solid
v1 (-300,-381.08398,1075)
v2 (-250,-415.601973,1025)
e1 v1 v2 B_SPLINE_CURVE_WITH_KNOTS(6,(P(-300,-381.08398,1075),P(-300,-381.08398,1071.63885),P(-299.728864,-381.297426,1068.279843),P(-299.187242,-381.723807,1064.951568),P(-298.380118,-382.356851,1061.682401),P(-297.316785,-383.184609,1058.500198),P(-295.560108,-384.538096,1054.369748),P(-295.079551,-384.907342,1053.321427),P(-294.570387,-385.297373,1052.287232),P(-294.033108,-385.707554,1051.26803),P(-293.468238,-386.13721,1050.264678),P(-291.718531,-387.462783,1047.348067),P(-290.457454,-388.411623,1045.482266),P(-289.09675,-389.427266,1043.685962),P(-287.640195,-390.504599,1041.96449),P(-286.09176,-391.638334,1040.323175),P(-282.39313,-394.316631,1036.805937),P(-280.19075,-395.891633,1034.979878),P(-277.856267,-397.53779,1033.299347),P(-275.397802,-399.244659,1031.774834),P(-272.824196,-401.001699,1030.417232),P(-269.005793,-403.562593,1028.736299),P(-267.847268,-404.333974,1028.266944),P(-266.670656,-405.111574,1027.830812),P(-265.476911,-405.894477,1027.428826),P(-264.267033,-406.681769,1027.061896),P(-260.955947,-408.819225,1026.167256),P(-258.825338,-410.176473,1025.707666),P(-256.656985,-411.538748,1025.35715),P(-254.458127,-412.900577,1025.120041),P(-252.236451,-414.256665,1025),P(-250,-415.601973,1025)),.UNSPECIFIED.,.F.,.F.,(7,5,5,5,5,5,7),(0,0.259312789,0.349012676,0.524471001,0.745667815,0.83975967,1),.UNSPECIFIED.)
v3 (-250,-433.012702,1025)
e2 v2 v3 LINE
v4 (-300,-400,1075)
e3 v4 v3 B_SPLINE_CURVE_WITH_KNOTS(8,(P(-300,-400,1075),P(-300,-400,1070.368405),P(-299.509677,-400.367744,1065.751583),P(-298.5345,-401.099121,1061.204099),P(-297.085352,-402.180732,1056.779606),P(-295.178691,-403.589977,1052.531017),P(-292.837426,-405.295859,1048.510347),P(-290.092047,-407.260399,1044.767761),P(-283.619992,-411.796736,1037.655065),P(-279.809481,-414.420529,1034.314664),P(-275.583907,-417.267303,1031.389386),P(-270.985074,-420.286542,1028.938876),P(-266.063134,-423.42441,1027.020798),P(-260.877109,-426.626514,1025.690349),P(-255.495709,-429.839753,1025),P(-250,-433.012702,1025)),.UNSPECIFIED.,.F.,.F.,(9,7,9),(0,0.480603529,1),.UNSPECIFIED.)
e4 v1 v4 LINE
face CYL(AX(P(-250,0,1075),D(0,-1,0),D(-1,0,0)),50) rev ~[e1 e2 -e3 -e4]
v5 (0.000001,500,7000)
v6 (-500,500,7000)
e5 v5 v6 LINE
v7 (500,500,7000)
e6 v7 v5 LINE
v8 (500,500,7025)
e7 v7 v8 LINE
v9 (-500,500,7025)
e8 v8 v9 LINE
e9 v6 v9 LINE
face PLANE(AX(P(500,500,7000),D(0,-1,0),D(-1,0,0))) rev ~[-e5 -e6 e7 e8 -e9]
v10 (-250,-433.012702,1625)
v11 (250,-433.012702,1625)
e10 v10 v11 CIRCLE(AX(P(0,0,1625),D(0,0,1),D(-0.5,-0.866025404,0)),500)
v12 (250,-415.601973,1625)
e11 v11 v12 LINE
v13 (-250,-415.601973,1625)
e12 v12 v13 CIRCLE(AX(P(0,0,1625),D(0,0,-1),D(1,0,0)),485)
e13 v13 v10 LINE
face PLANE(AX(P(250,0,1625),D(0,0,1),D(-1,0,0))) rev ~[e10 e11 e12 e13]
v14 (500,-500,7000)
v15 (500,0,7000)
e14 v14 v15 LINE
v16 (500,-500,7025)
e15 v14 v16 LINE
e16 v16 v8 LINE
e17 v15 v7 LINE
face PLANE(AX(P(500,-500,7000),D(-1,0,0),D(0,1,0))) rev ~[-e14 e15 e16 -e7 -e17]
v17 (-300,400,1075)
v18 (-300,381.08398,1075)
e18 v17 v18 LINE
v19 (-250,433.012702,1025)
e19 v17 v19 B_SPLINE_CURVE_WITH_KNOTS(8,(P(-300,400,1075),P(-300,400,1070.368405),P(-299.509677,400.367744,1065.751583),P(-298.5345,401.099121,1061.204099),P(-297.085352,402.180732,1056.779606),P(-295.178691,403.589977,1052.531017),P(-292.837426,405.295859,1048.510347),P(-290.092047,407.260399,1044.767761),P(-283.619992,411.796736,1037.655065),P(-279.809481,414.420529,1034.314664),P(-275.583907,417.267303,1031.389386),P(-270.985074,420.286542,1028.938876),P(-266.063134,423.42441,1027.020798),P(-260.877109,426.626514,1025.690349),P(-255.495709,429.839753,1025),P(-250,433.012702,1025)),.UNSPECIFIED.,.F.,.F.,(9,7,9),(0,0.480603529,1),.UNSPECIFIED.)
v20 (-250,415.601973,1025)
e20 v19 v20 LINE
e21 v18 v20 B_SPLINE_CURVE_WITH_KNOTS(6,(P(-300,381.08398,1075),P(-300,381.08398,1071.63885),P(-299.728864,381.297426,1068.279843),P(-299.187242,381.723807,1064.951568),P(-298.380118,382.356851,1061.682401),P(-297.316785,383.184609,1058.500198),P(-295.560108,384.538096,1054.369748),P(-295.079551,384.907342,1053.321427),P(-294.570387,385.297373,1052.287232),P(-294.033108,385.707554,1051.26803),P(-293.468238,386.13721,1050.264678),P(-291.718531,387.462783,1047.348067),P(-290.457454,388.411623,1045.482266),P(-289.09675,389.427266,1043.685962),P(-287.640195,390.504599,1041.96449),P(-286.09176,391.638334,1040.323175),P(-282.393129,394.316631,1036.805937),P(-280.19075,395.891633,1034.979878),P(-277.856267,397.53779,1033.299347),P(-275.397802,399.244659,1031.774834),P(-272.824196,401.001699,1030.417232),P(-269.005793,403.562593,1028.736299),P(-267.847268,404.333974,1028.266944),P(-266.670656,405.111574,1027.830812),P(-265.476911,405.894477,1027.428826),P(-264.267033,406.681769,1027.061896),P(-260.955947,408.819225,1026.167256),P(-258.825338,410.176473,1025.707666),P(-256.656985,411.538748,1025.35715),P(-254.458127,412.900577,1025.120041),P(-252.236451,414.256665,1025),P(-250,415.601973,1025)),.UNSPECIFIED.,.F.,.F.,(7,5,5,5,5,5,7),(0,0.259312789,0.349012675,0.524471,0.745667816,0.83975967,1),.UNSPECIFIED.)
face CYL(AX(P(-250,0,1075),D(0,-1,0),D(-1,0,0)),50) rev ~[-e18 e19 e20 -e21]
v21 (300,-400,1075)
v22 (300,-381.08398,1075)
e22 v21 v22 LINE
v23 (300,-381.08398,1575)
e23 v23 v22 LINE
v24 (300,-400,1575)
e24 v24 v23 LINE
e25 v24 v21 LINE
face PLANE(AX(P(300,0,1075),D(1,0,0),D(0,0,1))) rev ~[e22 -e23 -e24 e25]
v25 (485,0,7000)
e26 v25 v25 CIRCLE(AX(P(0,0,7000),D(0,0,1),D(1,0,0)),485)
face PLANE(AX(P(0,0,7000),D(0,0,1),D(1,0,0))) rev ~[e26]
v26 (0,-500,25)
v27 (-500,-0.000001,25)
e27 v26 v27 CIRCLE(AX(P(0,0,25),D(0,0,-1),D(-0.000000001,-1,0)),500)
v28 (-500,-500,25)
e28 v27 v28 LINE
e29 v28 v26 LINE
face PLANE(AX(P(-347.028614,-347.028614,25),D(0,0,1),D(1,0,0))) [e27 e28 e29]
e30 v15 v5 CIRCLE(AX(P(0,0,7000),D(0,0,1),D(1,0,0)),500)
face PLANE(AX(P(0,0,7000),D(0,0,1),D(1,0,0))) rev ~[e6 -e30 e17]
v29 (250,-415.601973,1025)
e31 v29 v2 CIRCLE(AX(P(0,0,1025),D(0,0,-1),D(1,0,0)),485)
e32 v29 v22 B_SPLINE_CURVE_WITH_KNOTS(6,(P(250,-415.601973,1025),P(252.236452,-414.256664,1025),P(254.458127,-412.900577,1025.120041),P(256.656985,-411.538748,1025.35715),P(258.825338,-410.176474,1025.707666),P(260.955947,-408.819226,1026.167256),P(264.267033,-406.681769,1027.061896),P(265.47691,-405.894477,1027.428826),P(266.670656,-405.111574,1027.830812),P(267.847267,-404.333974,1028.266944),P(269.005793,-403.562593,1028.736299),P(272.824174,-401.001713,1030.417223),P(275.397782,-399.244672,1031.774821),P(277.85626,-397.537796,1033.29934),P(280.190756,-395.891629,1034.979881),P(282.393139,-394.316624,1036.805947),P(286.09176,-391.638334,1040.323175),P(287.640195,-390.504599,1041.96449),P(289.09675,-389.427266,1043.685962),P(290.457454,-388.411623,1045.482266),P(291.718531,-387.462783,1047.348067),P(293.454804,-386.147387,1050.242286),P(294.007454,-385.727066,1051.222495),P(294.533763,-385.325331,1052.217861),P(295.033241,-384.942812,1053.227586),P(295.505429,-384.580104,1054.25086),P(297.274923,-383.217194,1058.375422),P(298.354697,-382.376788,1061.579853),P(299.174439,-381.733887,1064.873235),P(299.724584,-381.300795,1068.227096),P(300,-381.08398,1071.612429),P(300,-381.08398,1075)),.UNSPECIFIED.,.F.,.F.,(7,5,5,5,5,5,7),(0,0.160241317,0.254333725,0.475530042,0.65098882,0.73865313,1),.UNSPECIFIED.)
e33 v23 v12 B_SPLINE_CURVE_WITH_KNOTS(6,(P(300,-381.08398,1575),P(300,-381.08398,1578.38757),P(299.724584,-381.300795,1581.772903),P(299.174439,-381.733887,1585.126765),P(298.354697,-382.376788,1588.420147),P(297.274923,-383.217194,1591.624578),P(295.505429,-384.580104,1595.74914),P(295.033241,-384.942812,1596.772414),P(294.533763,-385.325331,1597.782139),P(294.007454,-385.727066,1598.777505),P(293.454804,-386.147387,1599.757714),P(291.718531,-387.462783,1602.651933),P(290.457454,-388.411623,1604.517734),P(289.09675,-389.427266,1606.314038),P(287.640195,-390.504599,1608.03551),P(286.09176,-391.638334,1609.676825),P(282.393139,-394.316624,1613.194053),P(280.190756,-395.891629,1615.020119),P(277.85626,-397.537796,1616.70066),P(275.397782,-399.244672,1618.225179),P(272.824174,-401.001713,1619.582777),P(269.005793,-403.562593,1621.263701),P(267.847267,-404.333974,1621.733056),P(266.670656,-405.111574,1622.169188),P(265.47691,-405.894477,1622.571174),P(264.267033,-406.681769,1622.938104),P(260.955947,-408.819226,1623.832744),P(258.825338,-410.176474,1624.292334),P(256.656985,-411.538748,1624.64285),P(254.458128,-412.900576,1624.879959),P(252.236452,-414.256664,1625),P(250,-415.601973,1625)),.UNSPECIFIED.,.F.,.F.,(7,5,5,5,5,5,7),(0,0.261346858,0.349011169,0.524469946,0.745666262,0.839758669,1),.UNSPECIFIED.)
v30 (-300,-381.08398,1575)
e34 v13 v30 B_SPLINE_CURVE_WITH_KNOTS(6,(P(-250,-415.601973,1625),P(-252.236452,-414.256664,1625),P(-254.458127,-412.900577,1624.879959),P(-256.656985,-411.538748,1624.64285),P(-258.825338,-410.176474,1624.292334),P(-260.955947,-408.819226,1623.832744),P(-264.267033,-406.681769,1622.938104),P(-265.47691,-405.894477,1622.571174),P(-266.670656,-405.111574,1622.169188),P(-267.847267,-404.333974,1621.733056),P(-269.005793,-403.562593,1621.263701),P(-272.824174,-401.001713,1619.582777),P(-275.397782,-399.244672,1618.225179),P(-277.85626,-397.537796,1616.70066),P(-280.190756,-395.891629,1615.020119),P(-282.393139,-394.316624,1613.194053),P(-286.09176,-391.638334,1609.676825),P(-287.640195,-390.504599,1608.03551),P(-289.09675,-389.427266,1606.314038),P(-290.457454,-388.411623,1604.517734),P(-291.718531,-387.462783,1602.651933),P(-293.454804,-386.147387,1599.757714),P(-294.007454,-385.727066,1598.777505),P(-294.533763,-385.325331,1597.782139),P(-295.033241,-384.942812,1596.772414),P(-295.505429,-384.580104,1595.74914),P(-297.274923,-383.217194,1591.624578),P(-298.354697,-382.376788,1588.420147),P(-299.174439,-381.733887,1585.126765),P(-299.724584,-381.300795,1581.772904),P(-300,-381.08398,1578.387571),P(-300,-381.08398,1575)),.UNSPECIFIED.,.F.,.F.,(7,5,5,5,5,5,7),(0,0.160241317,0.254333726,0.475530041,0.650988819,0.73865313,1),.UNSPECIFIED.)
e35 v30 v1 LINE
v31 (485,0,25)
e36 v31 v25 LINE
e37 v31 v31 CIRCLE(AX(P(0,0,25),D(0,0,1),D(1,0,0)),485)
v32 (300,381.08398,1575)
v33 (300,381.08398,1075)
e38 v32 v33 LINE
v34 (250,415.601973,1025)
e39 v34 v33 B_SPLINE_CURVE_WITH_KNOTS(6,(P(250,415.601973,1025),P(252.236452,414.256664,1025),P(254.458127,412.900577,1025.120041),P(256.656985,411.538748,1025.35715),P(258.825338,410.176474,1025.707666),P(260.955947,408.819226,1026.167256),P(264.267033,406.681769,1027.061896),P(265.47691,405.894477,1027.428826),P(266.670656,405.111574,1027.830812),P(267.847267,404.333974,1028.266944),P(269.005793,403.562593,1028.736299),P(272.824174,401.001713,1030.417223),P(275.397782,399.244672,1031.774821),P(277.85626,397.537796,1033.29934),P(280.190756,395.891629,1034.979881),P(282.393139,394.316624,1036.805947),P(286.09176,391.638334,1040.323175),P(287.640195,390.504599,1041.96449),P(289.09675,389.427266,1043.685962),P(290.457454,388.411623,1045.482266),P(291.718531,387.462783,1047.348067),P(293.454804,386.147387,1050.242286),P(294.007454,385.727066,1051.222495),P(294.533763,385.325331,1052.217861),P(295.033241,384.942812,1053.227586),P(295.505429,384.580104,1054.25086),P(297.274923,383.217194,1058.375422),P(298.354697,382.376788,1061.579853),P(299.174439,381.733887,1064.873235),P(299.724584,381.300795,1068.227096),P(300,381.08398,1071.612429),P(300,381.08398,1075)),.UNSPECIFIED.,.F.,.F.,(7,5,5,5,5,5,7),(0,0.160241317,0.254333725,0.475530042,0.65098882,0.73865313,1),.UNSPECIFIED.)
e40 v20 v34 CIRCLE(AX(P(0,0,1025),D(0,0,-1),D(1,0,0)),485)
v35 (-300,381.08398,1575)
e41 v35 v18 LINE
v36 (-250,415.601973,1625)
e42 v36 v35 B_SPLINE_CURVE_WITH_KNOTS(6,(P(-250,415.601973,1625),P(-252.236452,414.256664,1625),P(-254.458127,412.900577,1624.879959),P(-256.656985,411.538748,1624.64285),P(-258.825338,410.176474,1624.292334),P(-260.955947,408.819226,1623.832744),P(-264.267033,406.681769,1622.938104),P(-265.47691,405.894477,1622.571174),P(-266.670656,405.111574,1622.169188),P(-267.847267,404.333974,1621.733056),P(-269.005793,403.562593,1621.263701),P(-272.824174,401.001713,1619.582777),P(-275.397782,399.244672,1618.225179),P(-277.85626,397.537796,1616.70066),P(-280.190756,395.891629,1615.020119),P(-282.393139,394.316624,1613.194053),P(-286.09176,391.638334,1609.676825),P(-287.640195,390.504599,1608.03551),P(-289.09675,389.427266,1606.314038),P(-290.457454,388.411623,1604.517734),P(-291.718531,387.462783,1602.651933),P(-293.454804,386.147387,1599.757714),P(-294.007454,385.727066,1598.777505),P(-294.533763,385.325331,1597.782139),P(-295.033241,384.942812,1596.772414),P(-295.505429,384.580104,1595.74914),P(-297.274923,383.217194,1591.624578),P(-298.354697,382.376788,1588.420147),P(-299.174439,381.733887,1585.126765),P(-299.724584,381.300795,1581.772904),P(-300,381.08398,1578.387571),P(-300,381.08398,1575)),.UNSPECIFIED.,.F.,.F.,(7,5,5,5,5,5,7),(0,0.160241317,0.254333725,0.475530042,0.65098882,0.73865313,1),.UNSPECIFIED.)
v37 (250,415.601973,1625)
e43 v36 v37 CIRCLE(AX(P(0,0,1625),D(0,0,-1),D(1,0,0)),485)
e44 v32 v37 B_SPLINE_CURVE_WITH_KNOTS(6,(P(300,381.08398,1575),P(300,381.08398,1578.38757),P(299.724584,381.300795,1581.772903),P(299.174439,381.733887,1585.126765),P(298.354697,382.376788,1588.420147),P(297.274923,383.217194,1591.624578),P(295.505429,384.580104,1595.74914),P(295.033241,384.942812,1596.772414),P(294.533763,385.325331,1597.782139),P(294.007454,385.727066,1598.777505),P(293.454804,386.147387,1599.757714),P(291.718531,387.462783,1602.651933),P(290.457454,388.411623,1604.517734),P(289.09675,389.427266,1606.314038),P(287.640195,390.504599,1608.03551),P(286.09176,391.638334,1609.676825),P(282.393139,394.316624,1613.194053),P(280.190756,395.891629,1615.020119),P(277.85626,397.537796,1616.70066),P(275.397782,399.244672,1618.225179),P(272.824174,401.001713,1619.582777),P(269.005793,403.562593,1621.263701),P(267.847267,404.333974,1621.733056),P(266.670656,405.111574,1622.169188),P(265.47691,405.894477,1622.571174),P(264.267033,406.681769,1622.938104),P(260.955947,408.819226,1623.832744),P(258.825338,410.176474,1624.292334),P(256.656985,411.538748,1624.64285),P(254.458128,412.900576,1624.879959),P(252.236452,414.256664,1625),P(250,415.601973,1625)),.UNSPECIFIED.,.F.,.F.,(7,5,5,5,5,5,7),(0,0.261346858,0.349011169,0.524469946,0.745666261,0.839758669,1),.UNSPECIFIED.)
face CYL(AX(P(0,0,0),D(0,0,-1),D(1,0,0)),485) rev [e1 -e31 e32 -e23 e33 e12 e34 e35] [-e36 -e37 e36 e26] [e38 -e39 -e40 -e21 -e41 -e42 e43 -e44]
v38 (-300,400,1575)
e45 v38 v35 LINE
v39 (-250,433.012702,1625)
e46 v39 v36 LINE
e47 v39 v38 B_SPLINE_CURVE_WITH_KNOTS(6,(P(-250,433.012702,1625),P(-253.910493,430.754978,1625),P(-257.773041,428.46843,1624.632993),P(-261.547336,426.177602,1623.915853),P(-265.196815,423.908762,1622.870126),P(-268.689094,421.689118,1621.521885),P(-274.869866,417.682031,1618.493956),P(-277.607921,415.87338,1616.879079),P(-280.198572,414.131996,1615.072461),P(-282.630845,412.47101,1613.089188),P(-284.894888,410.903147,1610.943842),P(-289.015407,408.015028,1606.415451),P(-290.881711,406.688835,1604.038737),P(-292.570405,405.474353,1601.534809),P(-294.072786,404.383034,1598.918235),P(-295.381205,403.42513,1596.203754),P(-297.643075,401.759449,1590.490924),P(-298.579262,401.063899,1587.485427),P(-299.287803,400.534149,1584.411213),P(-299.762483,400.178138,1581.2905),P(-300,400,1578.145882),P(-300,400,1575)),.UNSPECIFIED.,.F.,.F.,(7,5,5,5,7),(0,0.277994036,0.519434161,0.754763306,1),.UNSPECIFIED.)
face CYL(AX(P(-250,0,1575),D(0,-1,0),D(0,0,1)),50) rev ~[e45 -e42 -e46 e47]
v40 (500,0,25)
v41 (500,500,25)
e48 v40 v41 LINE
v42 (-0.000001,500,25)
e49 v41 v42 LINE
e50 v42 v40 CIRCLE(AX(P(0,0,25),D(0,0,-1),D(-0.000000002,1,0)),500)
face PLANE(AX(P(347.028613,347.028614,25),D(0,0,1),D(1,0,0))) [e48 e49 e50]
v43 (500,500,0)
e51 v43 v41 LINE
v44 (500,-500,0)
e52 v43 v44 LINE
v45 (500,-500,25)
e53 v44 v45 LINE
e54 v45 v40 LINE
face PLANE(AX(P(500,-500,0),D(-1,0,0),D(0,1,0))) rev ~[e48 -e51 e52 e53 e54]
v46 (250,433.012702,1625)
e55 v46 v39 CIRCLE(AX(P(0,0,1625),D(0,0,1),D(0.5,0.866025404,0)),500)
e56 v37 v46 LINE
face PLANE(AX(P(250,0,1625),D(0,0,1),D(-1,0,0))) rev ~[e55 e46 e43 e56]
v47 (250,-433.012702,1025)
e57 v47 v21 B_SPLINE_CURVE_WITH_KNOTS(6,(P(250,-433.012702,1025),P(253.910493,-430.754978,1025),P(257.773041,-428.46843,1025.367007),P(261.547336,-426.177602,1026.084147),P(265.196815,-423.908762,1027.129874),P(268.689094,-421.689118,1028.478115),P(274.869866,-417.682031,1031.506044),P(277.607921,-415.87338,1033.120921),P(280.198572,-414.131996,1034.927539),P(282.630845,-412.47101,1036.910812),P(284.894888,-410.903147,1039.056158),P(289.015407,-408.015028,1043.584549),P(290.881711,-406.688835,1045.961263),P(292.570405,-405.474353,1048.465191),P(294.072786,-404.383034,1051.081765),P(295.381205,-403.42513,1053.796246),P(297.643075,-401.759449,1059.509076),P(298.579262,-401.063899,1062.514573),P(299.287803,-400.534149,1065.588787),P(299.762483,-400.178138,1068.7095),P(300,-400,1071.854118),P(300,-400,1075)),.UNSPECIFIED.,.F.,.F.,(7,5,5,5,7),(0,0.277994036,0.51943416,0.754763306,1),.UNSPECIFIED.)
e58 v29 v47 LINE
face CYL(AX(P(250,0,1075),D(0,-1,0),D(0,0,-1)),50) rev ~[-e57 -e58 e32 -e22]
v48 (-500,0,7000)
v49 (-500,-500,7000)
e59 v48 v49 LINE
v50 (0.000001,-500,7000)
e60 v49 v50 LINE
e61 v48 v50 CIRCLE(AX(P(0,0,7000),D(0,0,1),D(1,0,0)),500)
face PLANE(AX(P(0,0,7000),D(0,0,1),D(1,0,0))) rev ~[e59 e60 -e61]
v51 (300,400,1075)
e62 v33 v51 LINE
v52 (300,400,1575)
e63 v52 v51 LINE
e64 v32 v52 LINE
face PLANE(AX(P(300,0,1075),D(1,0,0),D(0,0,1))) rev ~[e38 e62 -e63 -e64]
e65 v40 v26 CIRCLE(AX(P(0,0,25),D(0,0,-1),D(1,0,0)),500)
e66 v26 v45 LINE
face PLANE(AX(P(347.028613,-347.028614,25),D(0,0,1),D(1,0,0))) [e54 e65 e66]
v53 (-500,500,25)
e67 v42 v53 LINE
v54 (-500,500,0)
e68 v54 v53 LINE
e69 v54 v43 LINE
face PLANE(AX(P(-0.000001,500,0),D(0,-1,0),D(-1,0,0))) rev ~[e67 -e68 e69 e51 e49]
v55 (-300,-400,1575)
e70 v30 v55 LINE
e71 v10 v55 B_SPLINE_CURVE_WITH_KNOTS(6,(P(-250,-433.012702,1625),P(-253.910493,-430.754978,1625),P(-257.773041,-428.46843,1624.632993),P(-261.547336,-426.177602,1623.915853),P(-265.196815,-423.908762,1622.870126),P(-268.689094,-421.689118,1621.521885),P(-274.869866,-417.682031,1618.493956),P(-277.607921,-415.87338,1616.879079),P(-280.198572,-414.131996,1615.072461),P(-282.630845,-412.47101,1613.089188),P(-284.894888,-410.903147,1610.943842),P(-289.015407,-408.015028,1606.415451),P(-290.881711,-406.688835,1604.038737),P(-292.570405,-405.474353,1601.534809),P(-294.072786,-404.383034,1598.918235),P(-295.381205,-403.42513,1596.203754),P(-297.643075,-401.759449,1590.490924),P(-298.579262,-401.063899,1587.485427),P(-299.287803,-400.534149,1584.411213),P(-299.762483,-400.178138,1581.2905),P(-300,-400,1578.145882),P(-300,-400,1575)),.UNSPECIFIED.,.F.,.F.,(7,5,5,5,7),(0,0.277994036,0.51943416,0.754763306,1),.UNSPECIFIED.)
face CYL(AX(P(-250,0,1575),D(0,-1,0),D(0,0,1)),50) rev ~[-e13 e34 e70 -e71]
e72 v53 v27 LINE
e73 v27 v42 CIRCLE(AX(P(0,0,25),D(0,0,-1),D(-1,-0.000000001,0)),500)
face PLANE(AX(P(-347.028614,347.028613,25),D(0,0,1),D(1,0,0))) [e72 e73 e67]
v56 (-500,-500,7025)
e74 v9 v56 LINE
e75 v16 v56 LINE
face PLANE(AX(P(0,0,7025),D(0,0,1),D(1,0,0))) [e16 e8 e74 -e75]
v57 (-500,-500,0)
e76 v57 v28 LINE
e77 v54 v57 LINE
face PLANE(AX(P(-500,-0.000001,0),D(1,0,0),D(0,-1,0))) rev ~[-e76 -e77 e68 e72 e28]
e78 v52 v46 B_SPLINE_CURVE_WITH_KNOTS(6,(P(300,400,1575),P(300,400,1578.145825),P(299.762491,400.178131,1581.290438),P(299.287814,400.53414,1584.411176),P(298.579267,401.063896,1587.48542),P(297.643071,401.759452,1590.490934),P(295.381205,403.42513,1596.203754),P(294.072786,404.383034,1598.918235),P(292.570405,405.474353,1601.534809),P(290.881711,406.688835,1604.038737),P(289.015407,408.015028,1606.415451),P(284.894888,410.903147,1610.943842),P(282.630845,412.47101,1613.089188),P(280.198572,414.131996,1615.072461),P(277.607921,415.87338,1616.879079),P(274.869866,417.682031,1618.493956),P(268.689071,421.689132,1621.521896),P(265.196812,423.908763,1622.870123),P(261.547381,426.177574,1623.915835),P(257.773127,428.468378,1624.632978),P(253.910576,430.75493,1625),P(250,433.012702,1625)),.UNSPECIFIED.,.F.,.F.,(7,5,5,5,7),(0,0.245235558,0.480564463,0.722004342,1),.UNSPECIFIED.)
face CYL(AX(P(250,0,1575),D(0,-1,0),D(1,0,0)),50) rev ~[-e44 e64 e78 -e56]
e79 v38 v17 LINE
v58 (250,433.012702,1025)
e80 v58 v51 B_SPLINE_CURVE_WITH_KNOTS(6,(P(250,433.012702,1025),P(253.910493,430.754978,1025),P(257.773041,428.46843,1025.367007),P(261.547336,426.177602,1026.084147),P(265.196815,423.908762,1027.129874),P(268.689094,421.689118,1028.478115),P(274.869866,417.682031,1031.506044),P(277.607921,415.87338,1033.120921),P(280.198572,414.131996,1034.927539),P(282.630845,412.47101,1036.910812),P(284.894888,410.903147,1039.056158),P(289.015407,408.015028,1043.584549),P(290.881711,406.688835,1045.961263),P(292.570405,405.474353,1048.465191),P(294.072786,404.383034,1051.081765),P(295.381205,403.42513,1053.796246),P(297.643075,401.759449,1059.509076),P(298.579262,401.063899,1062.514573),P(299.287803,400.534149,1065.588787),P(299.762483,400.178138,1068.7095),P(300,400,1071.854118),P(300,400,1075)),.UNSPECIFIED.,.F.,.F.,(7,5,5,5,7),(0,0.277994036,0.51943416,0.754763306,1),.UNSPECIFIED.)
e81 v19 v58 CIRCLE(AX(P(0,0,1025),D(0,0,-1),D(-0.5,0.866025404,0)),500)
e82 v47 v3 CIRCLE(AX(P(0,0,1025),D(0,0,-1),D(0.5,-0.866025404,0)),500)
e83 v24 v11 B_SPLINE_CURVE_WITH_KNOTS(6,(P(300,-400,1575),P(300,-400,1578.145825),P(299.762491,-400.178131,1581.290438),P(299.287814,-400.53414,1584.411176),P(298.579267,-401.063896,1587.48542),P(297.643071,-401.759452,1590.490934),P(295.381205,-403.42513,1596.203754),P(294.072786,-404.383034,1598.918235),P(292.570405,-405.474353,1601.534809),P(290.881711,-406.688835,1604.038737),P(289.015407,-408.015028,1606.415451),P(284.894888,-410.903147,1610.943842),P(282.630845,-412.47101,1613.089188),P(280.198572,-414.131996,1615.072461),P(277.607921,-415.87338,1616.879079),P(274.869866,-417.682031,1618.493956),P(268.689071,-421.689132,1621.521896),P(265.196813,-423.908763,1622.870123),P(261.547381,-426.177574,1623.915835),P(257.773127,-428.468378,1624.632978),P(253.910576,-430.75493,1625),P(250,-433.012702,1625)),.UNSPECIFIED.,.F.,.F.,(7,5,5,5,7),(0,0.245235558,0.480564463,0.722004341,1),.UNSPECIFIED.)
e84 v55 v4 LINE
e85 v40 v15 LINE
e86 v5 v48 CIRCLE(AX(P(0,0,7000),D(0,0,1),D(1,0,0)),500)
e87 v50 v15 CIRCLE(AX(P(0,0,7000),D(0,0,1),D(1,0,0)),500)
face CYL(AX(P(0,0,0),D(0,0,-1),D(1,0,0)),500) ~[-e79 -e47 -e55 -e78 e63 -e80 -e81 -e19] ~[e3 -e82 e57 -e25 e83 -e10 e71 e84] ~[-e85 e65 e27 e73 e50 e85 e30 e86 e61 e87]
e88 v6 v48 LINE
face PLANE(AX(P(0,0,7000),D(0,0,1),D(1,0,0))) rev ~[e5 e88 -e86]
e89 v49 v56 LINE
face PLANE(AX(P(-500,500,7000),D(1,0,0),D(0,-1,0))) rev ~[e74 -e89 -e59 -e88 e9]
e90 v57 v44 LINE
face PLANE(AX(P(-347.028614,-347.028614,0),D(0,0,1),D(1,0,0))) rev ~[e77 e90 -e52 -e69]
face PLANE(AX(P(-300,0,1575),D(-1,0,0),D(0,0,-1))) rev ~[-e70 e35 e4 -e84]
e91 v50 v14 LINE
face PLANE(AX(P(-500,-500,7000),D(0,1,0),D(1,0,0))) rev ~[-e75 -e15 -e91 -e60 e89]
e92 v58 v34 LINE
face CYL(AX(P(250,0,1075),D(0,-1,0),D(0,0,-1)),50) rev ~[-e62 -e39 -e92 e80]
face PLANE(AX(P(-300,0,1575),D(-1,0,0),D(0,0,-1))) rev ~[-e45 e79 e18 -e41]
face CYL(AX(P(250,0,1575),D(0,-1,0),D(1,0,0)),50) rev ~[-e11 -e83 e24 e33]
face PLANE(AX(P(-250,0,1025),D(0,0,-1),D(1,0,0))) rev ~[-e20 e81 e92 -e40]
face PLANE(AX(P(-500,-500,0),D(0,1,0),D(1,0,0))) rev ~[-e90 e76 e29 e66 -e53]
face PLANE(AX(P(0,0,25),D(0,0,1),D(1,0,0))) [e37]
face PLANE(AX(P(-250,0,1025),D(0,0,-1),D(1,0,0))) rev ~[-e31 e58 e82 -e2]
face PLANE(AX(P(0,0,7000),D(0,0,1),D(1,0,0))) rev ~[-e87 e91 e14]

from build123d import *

# Parameters (mm, degrees)
F0_R        = 500
F0_R_2      = 485
F2_DEPTH    = 7000
F1_R        = 485
F4_DEPTH    = 25
F6_DEPTH    = 500
F7_R        = 485
F2_FACE_R   = 500
F2_FACE_R_2 = 485
F8_DEPTH    = 25


with BuildPart() as f2:
    # F0 (on Top) → F2 (new body)
    with BuildSketch(Plane.XY):
        Circle(F0_R)
        Circle(F0_R_2, mode=Mode.SUBTRACT)
    extrude(amount=F2_DEPTH)

    # F3 (on face) + F1 (on face) → F4 (join)
    with BuildSketch(Plane.XY):
        with BuildLine():
            Line((-500, -5.933e-07), (-500, -500))
            Line((-500, -500), (-3.773e-07, -500))
            ThreePointArc((-3.773e-07, -500), (-353.5533905169, -353.5533906696), (-500, -5.933e-07))
        make_face()
        with BuildLine():
            ThreePointArc((500, 0), (353.5533904599, -353.5533907267), (-3.773e-07, -500))
            Line((-3.773e-07, -500), (500, -500))
            Line((500, -500), (500, 0))
        make_face()
        with BuildLine():
            ThreePointArc((-7.847e-07, 500), (353.5533903158, 353.5533908707), (500, 0))
            Line((500, 0), (500, 500))
            Line((500, 500), (-7.847e-07, 500))
        make_face()
        with BuildLine():
            Line((-500, 500), (-500, -5.933e-07))
            ThreePointArc((-500, -5.933e-07), (-353.5533910805, 353.5533901061), (-7.847e-07, 500))
            Line((-7.847e-07, 500), (-500, 500))
        make_face()
    with BuildSketch(Plane.XY):
        Circle(F1_R)
    extrude(amount=F4_DEPTH)

    # F5 (on Front) → F6 (cut, symmetric)
    with BuildSketch(Plane.XZ):
        with BuildLine():
            Line((250, 1625), (-250, 1625))
            ThreePointArc((-250, 1625), (-285.3553390593, 1610.3553390593), (-300, 1575))
            Line((-300, 1575), (-300, 1075))
            ThreePointArc((-300, 1075), (-285.3553390593, 1039.6446609407), (-250, 1025))
            Line((-250, 1025), (250, 1025))
            ThreePointArc((250, 1025), (285.3553390593, 1039.6446609407), (300, 1075))
            Line((300, 1075), (300, 1575))
            ThreePointArc((300, 1575), (285.3553390593, 1610.3553390593), (250, 1625))
        make_face()
    extrude(amount=F6_DEPTH, both=True, mode=Mode.SUBTRACT)

    # F7 (on face) + F2_face (on face) → F8 (join)
    with BuildSketch(Plane.XY.offset(7000)):
        with BuildLine():
            ThreePointArc((500, 0), (353.5533903158, 353.5533908707), (-7.847e-07, 500))
            ThreePointArc((-7.847e-07, 500), (-353.5533910805, 353.5533901061), (-500, -5.933e-07))
            ThreePointArc((-500, -5.933e-07), (-353.5533905169, -353.5533906696), (-3.773e-07, -500))
            ThreePointArc((-3.773e-07, -500), (353.5533904599, -353.5533907267), (500, 0))
        make_face()
        Circle(F7_R, mode=Mode.SUBTRACT)
        Circle(F7_R)
        with BuildLine():
            Line((500, -500), (500, 0))
            ThreePointArc((500, 0), (353.5533904599, -353.5533907267), (-3.773e-07, -500))
            Line((-3.773e-07, -500), (500, -500))
        make_face()
        with BuildLine():
            ThreePointArc((-3.773e-07, -500), (-353.5533905169, -353.5533906696), (-500, -5.933e-07))
            Line((-500, -5.933e-07), (-500, -500))
            Line((-500, -500), (-3.773e-07, -500))
        make_face()
        with BuildLine():
            Line((500, 500), (-7.847e-07, 500))
            ThreePointArc((-7.847e-07, 500), (353.5533903158, 353.5533908707), (500, 0))
            Line((500, 0), (500, 500))
        make_face()
        with BuildLine():
            Line((-7.847e-07, 500), (-500, 500))
            Line((-500, 500), (-500, -5.933e-07))
            ThreePointArc((-500, -5.933e-07), (-353.5533910805, 353.5533901061), (-7.847e-07, 500))
        make_face()
    with BuildSketch(Plane.XY.offset(7000)):
        Circle(F2_FACE_R)
        Circle(F2_FACE_R_2, mode=Mode.SUBTRACT)
    extrude(amount=F8_DEPTH)


solid = f2.part
